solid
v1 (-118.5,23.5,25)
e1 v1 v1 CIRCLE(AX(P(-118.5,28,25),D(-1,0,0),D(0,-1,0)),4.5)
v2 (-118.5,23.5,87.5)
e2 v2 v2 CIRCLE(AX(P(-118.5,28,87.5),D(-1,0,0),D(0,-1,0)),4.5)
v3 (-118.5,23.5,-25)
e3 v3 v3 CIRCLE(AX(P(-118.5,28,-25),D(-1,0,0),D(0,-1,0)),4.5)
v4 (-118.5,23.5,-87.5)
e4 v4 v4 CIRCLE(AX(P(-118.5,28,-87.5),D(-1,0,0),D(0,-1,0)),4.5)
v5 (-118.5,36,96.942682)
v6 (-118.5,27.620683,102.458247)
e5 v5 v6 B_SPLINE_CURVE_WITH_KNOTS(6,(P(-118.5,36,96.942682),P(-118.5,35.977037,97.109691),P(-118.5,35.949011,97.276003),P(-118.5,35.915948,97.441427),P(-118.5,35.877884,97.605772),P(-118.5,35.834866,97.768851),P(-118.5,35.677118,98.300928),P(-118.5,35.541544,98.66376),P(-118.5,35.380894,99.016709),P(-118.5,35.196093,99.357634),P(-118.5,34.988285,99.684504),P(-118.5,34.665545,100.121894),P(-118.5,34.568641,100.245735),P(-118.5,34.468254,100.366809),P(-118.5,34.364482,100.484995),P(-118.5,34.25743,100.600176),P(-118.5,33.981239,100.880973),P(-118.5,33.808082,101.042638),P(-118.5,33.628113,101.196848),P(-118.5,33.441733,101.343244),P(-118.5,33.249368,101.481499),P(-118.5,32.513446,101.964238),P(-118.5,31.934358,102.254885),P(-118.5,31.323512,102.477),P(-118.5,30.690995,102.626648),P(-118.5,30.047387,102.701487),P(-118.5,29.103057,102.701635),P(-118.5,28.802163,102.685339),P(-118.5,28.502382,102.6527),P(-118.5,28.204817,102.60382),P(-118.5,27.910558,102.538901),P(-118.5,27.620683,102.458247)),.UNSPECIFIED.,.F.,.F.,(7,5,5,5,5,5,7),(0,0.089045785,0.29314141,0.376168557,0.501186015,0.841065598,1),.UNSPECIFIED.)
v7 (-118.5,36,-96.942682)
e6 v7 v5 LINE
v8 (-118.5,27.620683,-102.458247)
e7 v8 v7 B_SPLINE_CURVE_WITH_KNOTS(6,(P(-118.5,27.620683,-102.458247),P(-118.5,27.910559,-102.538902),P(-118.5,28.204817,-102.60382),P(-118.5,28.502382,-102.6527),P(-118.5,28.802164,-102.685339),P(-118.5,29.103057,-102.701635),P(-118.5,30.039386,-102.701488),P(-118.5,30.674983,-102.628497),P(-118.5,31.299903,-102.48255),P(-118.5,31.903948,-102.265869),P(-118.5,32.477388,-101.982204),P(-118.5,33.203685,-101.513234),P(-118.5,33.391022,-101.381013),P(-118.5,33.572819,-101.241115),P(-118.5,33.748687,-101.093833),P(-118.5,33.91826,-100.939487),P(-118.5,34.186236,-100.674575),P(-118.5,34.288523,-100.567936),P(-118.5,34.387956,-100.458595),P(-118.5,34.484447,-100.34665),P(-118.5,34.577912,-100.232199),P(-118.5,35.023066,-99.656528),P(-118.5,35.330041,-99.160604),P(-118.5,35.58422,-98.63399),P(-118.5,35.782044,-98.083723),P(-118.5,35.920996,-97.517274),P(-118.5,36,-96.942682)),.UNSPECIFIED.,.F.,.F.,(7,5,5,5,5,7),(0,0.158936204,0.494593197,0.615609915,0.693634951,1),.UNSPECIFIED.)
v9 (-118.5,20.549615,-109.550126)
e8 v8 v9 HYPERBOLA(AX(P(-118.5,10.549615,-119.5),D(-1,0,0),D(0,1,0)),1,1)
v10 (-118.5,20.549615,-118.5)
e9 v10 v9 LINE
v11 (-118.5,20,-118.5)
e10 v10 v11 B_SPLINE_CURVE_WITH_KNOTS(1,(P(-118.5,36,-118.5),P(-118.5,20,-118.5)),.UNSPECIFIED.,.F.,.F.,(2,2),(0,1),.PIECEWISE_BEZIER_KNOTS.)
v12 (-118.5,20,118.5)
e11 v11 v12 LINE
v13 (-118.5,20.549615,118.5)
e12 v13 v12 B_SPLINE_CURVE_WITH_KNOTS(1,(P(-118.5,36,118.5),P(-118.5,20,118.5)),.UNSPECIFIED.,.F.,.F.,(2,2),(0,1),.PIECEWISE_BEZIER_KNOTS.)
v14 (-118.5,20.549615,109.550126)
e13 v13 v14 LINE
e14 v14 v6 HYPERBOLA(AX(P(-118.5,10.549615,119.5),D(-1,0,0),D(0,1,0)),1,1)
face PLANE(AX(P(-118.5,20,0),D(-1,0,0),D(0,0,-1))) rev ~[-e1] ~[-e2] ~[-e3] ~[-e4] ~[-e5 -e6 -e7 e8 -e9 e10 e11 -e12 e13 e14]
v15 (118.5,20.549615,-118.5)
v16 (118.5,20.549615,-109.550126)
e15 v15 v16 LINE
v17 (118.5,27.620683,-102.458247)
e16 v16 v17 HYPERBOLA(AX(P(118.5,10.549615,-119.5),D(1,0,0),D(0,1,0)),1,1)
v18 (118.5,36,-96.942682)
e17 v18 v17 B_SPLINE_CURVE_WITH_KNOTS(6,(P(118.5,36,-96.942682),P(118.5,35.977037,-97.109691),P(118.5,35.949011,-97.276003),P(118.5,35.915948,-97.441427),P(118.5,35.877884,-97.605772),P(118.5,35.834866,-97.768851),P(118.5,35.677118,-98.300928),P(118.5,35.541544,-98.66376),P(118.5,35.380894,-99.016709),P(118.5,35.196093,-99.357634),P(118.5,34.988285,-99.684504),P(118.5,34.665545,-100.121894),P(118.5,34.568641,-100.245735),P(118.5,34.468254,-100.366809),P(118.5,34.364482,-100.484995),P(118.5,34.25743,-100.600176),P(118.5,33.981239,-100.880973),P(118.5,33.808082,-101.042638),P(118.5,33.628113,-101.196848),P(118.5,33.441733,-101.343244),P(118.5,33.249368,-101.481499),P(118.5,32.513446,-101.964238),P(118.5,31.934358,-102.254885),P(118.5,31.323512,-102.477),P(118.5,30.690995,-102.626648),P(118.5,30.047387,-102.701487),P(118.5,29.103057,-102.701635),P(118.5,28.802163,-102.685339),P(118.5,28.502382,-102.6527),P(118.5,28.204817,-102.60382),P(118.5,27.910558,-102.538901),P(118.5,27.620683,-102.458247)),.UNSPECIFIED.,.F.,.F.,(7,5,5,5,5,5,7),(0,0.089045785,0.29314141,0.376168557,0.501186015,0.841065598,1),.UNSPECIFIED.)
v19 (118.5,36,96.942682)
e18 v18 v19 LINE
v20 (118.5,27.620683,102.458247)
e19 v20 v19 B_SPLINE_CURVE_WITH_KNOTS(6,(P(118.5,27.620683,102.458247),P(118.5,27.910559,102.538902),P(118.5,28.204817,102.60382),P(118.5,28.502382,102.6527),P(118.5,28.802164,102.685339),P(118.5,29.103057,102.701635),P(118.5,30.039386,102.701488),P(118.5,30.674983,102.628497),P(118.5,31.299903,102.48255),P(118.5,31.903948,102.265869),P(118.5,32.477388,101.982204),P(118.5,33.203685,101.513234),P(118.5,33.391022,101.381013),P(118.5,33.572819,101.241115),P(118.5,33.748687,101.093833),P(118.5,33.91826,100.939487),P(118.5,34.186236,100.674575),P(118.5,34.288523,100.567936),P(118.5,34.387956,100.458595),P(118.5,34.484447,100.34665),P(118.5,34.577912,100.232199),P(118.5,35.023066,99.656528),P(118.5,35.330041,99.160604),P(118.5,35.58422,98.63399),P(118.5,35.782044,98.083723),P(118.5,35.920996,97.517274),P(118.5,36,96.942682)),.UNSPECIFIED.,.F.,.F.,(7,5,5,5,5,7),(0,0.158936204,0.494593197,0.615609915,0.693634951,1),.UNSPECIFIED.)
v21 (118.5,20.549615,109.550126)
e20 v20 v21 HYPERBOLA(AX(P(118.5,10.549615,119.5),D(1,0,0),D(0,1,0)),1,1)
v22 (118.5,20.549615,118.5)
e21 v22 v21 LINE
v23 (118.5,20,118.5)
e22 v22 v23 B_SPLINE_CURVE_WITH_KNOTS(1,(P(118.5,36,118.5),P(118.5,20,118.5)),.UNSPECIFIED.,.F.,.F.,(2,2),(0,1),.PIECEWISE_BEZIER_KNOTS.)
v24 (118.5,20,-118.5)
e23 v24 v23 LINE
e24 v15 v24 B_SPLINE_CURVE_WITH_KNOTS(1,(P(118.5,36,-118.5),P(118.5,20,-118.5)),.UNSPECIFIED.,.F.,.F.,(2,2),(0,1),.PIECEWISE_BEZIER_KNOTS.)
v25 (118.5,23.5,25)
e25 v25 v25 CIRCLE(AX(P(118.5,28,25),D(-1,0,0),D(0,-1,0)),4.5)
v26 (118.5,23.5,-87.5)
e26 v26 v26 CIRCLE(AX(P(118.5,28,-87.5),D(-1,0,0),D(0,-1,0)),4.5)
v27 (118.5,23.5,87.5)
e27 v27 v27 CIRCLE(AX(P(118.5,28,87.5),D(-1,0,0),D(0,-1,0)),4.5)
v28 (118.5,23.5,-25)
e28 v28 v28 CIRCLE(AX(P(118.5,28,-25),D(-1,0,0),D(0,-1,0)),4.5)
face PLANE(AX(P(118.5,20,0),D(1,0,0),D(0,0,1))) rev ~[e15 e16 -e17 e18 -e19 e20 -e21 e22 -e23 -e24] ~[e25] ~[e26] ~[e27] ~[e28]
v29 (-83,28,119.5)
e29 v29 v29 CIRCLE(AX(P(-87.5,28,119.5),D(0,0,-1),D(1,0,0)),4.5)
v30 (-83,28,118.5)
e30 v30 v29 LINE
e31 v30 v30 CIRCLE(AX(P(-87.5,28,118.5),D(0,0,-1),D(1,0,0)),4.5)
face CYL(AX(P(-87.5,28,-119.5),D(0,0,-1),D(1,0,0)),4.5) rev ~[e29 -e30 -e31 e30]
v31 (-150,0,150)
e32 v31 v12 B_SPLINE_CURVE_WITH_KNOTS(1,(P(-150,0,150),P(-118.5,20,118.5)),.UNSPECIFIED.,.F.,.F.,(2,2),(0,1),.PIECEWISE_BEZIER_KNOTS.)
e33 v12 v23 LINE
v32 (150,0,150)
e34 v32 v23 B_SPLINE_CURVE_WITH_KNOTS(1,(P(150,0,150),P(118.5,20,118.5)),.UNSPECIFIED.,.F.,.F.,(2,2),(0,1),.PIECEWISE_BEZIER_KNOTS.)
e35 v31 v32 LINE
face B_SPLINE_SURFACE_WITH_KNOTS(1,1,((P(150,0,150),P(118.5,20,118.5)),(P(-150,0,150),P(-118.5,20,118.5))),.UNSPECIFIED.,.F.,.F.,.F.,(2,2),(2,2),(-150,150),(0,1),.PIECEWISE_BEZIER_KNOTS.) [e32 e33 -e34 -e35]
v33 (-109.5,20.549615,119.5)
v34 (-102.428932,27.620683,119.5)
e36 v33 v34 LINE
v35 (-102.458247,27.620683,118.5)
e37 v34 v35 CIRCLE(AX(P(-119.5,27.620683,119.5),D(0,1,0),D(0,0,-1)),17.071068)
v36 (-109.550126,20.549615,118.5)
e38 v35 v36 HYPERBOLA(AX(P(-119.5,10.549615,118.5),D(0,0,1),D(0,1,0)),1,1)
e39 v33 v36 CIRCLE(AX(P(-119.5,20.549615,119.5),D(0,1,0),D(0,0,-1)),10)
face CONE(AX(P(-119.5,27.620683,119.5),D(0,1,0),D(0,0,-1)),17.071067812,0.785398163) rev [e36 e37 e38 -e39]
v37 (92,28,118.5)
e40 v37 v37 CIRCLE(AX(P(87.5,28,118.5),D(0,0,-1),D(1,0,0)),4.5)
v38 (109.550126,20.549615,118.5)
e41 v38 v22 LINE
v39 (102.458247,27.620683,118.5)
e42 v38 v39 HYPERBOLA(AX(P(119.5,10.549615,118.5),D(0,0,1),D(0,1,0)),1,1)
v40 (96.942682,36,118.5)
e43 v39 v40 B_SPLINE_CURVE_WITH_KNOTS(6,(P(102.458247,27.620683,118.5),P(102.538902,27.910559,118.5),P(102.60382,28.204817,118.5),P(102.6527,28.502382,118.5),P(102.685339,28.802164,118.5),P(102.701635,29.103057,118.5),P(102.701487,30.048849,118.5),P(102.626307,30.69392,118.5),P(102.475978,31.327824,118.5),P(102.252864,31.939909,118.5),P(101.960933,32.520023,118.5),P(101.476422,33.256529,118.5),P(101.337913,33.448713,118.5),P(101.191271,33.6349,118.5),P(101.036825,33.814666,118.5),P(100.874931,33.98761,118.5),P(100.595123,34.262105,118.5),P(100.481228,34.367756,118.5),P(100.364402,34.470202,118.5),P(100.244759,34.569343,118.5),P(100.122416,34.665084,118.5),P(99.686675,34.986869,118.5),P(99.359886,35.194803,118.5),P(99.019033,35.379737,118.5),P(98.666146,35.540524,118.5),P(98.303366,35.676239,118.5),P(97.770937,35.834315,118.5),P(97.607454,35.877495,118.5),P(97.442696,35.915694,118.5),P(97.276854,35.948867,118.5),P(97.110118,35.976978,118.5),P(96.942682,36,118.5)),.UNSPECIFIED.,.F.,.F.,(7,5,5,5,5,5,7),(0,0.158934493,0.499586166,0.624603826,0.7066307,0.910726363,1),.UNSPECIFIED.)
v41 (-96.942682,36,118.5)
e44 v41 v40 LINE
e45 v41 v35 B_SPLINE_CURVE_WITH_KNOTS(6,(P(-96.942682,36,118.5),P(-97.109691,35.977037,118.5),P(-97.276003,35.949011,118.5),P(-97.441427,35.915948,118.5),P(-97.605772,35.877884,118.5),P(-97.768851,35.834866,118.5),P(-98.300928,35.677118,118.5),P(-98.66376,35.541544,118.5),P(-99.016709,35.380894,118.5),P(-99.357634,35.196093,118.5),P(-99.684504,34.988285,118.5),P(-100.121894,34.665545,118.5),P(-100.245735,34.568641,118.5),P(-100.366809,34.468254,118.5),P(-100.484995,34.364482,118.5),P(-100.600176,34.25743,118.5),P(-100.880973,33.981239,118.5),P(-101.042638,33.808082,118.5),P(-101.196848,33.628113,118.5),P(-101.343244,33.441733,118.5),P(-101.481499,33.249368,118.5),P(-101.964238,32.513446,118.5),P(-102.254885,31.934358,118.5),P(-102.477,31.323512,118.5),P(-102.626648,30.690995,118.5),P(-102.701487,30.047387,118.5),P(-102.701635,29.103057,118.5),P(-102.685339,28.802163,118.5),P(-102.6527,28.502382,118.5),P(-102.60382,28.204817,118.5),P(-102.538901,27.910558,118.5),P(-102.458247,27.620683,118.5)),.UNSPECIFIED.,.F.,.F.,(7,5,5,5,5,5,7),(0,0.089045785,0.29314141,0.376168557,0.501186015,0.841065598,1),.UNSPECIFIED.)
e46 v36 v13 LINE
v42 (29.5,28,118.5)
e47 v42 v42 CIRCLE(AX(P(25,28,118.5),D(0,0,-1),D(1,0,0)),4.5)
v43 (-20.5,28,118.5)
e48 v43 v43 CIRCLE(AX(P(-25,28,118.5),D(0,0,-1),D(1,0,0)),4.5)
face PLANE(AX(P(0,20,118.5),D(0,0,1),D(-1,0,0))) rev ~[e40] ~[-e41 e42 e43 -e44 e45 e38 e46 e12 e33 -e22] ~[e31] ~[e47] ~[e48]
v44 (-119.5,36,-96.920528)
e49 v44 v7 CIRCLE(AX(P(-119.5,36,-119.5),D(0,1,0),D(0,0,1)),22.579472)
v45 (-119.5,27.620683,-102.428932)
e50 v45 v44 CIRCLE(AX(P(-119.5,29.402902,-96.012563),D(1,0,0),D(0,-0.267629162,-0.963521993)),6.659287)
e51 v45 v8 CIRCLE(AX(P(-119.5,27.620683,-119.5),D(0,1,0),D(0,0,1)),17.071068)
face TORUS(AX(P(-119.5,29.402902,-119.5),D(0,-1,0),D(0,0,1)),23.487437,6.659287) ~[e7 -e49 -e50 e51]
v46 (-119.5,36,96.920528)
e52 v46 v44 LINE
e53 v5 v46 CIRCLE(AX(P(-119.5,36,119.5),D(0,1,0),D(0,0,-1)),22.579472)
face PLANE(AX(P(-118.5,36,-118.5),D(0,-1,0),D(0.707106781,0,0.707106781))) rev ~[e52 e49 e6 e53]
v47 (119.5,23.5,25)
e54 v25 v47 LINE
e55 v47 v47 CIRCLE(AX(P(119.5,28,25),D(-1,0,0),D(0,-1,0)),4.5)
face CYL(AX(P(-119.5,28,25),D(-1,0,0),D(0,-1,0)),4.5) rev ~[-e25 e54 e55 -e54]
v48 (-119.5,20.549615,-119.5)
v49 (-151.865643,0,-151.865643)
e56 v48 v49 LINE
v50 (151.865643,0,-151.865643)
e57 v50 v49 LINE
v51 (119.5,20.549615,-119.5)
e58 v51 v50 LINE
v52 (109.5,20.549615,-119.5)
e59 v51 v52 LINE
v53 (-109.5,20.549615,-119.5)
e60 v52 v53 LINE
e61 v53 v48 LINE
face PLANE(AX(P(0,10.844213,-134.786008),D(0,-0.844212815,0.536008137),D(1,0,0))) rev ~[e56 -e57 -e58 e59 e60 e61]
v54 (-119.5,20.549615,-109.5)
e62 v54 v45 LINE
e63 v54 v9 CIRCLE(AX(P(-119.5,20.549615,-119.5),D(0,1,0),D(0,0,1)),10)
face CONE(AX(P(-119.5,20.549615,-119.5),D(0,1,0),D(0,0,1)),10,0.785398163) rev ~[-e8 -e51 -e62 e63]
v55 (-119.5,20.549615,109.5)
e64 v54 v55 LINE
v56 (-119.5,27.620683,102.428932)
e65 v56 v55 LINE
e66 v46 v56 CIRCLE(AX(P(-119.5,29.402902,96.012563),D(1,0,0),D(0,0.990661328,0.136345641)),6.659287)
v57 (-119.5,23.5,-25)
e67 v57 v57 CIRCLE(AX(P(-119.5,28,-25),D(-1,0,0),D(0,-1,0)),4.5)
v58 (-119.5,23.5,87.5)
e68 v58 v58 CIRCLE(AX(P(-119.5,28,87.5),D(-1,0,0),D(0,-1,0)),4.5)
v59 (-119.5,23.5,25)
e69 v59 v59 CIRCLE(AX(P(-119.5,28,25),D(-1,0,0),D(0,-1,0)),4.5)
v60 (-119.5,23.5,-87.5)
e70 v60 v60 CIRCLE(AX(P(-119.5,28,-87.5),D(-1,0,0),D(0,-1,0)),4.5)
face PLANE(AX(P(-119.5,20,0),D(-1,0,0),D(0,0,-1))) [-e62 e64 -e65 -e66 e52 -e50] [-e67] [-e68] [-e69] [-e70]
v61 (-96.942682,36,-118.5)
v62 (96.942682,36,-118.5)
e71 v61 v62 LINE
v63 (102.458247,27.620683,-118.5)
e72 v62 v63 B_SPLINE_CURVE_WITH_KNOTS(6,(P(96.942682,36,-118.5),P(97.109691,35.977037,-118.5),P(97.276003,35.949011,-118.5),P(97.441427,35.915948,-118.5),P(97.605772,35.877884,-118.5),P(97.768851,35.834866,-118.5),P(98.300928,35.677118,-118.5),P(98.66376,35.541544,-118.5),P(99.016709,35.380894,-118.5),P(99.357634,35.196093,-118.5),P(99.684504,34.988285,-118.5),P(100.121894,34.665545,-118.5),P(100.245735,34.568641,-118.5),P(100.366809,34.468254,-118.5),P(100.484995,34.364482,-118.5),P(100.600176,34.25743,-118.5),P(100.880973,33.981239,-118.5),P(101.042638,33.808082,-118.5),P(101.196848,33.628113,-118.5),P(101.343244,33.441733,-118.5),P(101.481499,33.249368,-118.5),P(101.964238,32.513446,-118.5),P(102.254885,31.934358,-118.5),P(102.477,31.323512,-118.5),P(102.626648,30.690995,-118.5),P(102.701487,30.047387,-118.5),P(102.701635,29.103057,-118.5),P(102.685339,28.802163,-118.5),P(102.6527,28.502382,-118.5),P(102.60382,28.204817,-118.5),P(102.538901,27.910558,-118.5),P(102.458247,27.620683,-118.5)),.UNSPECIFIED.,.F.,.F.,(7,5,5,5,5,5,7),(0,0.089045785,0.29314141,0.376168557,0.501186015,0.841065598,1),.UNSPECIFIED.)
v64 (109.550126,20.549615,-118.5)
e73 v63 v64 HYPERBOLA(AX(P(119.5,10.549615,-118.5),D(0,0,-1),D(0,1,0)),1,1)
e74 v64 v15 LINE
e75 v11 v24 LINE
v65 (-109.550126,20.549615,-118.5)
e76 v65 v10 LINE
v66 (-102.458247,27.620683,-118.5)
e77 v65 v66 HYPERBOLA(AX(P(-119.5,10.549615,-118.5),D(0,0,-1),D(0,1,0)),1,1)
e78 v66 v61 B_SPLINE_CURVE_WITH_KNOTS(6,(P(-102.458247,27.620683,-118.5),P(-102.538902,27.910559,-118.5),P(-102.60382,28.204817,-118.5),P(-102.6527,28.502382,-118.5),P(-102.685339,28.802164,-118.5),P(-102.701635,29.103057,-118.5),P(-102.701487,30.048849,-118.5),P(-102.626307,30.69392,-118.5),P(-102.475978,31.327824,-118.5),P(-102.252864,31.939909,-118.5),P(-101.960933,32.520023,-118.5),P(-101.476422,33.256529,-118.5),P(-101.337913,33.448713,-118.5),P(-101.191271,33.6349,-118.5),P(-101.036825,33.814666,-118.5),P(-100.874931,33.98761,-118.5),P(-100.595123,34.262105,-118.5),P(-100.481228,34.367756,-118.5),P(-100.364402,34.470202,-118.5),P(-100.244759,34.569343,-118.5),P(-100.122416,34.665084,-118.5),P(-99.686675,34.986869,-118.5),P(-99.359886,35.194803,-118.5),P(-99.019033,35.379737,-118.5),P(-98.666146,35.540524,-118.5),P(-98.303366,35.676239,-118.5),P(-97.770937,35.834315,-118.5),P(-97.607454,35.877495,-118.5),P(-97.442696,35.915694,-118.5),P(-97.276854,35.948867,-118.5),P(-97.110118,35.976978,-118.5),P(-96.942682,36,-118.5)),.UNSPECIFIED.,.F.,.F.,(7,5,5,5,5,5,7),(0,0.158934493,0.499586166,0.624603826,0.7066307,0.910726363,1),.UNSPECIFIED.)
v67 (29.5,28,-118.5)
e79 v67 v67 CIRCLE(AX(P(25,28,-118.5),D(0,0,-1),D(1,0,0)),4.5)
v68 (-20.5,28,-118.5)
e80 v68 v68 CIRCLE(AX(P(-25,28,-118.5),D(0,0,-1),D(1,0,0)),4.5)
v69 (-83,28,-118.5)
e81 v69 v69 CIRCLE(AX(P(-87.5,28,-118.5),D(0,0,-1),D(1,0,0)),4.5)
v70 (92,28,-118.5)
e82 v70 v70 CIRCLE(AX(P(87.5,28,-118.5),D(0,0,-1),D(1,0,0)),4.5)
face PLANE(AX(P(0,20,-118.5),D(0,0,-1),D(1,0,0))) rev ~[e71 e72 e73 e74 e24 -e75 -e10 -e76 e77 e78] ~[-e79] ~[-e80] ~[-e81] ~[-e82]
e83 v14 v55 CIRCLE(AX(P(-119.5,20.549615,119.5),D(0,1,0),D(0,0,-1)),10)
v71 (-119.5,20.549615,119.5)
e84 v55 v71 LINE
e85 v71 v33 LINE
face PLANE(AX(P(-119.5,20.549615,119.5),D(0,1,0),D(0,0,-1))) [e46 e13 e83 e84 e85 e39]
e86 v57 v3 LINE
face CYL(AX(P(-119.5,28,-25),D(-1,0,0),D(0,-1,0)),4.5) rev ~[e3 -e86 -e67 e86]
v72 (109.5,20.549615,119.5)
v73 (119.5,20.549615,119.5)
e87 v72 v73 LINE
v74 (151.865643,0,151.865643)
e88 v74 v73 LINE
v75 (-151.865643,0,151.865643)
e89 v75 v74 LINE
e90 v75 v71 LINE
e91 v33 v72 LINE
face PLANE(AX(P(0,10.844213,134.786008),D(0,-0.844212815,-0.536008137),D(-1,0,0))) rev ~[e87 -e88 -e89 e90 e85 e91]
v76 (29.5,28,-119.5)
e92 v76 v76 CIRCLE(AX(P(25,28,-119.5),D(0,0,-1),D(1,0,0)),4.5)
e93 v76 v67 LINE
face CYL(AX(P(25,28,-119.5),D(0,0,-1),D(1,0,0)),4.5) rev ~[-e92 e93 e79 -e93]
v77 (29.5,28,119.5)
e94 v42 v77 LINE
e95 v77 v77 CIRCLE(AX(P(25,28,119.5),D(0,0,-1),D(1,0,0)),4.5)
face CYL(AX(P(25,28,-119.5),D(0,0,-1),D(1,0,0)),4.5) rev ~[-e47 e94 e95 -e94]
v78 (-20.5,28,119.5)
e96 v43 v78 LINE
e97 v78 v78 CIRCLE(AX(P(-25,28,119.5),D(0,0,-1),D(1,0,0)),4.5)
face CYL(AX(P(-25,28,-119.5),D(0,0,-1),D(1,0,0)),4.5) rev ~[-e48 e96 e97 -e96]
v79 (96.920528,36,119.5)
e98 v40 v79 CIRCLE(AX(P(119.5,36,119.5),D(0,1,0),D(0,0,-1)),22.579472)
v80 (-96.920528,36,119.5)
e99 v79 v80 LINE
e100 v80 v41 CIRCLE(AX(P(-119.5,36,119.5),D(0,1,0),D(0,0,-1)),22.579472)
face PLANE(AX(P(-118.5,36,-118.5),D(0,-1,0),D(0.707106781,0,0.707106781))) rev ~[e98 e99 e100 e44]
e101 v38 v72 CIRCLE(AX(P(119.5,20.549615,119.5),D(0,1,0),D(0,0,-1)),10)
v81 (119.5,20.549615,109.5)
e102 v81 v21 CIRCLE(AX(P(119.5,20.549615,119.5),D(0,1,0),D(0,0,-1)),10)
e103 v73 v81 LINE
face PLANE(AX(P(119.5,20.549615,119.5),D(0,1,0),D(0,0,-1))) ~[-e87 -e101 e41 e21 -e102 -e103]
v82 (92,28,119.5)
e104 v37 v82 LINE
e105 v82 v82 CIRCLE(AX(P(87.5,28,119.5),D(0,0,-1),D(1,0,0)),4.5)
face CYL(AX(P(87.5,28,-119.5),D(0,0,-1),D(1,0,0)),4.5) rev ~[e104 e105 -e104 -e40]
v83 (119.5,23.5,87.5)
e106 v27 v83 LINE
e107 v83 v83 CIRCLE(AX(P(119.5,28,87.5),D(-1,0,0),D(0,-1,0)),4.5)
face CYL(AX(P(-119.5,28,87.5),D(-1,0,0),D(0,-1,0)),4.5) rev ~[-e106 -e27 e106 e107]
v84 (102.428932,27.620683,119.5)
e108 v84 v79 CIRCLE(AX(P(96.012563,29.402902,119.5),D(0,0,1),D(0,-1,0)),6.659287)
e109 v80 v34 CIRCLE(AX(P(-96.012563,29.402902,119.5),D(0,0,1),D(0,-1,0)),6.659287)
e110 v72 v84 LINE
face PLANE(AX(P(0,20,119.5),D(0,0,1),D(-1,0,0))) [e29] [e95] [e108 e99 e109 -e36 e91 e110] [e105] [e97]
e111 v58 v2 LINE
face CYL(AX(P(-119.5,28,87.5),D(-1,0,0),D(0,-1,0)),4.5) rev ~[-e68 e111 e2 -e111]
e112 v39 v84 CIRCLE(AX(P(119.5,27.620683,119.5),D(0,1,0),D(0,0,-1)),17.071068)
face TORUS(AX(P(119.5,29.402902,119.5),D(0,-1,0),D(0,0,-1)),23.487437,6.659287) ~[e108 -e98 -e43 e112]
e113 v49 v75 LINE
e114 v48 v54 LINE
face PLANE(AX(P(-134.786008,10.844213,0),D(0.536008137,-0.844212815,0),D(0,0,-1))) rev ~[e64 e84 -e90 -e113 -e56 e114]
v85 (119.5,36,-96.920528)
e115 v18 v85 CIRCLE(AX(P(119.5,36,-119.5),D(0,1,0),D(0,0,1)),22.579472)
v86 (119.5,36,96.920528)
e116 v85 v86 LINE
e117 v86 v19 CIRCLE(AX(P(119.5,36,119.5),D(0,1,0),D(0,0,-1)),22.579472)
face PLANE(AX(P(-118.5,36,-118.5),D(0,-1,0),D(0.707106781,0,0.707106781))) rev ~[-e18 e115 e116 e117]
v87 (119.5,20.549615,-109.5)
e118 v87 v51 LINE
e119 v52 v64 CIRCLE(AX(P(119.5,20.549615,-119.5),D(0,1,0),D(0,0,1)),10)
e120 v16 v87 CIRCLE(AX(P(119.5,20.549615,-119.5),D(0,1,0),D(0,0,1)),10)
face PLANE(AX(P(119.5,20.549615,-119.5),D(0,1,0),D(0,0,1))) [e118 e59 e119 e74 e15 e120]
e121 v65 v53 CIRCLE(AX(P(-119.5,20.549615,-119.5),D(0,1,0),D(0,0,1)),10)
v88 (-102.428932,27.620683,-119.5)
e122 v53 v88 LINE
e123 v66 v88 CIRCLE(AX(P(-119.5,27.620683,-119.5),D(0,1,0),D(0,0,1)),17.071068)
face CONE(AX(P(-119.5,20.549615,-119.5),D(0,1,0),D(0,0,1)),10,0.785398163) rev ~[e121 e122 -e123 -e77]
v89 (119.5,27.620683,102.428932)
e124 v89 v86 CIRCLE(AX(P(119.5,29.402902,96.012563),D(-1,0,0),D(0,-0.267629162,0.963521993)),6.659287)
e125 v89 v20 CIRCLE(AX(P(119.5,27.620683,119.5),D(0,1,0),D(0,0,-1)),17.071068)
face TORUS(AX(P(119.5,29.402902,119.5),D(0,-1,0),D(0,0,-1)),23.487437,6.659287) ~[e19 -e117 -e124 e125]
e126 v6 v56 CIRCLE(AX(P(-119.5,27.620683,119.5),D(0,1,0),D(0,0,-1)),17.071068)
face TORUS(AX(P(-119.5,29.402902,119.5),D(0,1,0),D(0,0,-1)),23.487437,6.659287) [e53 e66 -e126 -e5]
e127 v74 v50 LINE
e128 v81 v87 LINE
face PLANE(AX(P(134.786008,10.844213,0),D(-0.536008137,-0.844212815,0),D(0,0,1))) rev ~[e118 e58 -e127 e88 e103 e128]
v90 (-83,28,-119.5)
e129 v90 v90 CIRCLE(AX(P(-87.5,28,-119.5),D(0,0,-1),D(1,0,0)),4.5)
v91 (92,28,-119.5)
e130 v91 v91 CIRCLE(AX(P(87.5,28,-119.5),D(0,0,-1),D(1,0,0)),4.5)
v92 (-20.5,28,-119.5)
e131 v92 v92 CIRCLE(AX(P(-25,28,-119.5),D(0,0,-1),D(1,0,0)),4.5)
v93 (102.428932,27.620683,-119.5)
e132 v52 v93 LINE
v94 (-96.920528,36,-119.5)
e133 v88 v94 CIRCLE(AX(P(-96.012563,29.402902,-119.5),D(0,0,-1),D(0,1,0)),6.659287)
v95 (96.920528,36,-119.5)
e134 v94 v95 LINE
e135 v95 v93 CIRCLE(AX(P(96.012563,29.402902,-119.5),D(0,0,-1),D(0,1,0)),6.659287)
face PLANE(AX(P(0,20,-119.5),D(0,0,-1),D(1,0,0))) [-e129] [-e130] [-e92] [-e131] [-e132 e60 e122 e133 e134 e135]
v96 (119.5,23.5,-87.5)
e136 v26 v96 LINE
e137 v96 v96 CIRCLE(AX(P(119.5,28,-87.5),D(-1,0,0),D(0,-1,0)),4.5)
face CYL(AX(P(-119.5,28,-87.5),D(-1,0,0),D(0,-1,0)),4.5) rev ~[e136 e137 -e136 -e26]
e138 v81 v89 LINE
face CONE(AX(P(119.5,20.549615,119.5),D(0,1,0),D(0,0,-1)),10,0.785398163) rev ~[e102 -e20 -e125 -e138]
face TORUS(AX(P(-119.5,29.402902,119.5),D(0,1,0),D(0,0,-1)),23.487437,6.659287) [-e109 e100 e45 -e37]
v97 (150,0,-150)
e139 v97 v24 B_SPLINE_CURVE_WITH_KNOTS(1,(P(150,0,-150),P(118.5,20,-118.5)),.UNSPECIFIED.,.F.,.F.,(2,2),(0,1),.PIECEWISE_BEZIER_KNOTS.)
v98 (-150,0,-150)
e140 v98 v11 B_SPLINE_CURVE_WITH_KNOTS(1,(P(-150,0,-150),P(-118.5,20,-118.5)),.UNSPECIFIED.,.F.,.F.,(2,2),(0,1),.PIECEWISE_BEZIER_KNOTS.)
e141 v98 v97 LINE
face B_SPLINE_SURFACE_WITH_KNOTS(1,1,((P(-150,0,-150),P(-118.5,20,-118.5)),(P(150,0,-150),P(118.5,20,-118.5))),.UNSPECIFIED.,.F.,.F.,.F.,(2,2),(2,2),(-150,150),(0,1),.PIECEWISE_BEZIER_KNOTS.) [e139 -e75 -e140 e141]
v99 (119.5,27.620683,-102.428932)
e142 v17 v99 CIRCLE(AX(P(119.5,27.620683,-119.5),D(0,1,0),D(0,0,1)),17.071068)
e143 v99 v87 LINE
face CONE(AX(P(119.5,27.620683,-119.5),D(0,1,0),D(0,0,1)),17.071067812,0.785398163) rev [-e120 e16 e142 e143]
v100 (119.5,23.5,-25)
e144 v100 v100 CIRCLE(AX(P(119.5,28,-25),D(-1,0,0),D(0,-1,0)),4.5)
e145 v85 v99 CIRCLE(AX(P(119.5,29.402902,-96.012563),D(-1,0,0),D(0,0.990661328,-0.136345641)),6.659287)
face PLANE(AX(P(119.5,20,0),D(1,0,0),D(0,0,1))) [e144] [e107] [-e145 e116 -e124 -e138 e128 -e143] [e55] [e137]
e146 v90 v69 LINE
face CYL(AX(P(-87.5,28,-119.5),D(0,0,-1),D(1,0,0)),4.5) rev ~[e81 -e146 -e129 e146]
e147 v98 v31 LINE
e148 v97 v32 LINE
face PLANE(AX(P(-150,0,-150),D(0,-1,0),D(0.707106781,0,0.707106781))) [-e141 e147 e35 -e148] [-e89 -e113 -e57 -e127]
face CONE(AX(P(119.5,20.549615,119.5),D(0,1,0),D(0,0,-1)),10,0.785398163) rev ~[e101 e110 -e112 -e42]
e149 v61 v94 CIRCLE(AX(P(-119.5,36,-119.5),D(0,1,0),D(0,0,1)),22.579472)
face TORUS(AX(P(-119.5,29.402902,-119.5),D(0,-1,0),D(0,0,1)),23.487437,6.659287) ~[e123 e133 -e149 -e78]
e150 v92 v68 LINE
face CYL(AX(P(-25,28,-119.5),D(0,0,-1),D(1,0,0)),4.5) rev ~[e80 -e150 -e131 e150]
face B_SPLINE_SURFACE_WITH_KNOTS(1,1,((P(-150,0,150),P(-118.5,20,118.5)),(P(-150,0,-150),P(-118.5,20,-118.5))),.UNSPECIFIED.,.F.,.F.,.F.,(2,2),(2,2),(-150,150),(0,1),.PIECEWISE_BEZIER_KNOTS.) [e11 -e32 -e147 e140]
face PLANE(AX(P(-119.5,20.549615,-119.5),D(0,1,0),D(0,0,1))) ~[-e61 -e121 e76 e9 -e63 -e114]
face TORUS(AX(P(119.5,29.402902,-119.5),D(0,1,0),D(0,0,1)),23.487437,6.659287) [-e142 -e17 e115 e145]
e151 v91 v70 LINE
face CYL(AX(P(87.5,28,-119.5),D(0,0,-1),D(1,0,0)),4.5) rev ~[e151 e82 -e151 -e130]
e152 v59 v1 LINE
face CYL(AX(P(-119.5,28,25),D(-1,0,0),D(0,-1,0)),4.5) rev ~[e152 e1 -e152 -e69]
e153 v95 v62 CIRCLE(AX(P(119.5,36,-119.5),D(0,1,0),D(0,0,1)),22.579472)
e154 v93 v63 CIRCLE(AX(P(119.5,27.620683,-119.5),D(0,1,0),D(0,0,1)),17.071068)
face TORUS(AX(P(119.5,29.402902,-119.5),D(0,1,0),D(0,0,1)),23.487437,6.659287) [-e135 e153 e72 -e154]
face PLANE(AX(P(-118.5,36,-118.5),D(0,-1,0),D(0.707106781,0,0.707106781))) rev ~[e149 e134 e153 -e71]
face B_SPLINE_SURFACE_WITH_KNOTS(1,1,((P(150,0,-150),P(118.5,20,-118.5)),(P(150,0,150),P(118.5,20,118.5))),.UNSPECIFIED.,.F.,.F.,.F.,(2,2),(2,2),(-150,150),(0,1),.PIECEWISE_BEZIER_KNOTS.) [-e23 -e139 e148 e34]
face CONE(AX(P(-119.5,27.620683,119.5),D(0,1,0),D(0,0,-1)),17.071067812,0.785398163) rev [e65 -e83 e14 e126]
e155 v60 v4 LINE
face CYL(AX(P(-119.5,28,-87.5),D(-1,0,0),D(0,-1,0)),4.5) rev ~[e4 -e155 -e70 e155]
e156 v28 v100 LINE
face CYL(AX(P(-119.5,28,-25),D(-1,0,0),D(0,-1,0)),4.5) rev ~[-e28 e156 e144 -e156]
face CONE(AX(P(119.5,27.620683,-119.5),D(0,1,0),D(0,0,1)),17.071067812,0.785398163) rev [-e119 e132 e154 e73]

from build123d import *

# Parameters (mm, degrees)
F0_W      = 300
F0_H      = 300
F2_W      = 237
F2_H      = 237
F5_W      = 237
F5_H      = 237
F3_FACE_W = 237
F3_FACE_H = 237
F7_T      = 1
F14_R     = 4.5
F15_DEPTH = 271.3666433207
F16_R     = 4.5
F17_DEPTH = 271.3666433207


with BuildPart() as f3:
    # F0 (on Front) → F3 section 0
    with BuildSketch(Plane.XZ):
        Rectangle(F0_W, F0_H)
    # F2 (on offset) → F3 section 1
    with BuildSketch(Plane.XZ.offset(-20)):
        Rectangle(F2_W, F2_H)
    loft()

    # F5 (on offset) → F6 section 0
    with BuildSketch(Plane.XZ.offset(-36)):
        Rectangle(F5_W, F5_H)
    # F3_face (on face) → F6 section 1
    with BuildSketch(Plane(origin=(0, 20, 0), x_dir=(-1, 0, 0), z_dir=(0, 1, 0))):
        Rectangle(F3_FACE_W, F3_FACE_H)
    loft()

    # F7
    f7_openings = [f3.faces().sort_by_distance(p)[0] for p in [
        (0, 0, 0),
        (0, 36, 0),
    ]]
    offset(amount=F7_T, openings=f7_openings, kind=Kind.INTERSECTION)

    # F8 (on face) → F9 (revolve, cut)
    with BuildSketch(Plane(origin=(-119.5, 0, 0), x_dir=(0, -1, 0), z_dir=(-1, 0, 0))):
        with BuildLine():
            Line((-20.5496148068, 109.5), (-20.5496148068, 119.5))
            Line((-20.5496148068, 119.5), (-36, 119.5))
            Line((-36, 119.5), (-36, 96.9205275363))
            ThreePointArc((-36, 96.9205275363), (-33.0609608371, 101.5771569003), (-27.6206826186, 102.4289321881))
            Line((-27.6206826186, 102.4289321881), (-20.5496148068, 109.5))
        make_face()
    revolve(axis=Axis((-119.5, 28.2748074034, 119.5), (0, 1, 0)), mode=Mode.SUBTRACT)

    # F8 (on face) → F10 (revolve, cut)
    with BuildSketch(Plane(origin=(-119.5, 0, 0), x_dir=(0, -1, 0), z_dir=(-1, 0, 0))):
        with BuildLine():
            Line((-36, -119.5), (-20.5496148068, -119.5))
            Line((-20.5496148068, -119.5), (-20.5496148068, -109.5))
            Line((-20.5496148068, -109.5), (-27.6206826186, -102.4289321881))
            ThreePointArc((-27.6206826186, -102.4289321881), (-33.0609608371, -101.5771569003), (-36, -96.9205275363))
            Line((-36, -96.9205275363), (-36, -119.5))
        make_face()
    revolve(axis=Axis((-119.5, 28.2748074034, -119.5), (0, 1, 0)), mode=Mode.SUBTRACT)

    # F11 (on face) → F12 (revolve, cut)
    with BuildSketch(Plane.YZ.offset(119.5)):
        with BuildLine():
            Line((27.6206826186, -102.4289321881), (20.5496148068, -109.5))
            Line((20.5496148068, -109.5), (20.5496148068, -119.5))
            Line((20.5496148068, -119.5), (36, -119.5))
            Line((36, -119.5), (36, -96.9205275363))
            ThreePointArc((36, -96.9205275363), (33.0609608371, -101.5771569003), (27.6206826186, -102.4289321881))
        make_face()
    revolve(axis=Axis((119.5, 28.2748074034, -119.5), (0, 1, 0)), mode=Mode.SUBTRACT)

    # F11 (on face) → F13 (revolve, cut)
    with BuildSketch(Plane.YZ.offset(119.5)):
        with BuildLine():
            Line((36, 119.5), (20.5496148068, 119.5))
            Line((20.5496148068, 119.5), (20.5496148068, 109.5))
            Line((20.5496148068, 109.5), (27.6206826186, 102.4289321881))
            ThreePointArc((27.6206826186, 102.4289321881), (33.0609608371, 101.5771569003), (36, 96.9205275363))
            Line((36, 96.9205275363), (36, 119.5))
        make_face()
    revolve(axis=Axis((119.5, 28.2748074034, 119.5), (0, 1, 0)), mode=Mode.SUBTRACT)

    # F14 (on face) → F15 (cut, through all)
    with BuildSketch(Plane(origin=(0, 0, -119.5), x_dir=(1, 0, 0), z_dir=(0, 0, -1))):
        with Locations((-25, -28)):
            Circle(F14_R)
        with Locations((25, -28)):
            Circle(F14_R)
        with Locations((-87.5, -28)):
            Circle(F14_R)
        with Locations((87.5, -28)):
            Circle(F14_R)
    extrude(amount=-F15_DEPTH, mode=Mode.SUBTRACT)

    # F16 (on face) → F17 (cut, through all)
    with BuildSketch(Plane(origin=(-119.5, 0, 0), x_dir=(0, -1, 0), z_dir=(-1, 0, 0))):
        with Locations((-28, 25)):
            Circle(F16_R)
        with Locations((-28, 87.5)):
            Circle(F16_R)
        with Locations((-28, -25)):
            Circle(F16_R)
        with Locations((-28, -87.5)):
            Circle(F16_R)
    extrude(amount=-F17_DEPTH, mode=Mode.SUBTRACT)


solid = f3.part
